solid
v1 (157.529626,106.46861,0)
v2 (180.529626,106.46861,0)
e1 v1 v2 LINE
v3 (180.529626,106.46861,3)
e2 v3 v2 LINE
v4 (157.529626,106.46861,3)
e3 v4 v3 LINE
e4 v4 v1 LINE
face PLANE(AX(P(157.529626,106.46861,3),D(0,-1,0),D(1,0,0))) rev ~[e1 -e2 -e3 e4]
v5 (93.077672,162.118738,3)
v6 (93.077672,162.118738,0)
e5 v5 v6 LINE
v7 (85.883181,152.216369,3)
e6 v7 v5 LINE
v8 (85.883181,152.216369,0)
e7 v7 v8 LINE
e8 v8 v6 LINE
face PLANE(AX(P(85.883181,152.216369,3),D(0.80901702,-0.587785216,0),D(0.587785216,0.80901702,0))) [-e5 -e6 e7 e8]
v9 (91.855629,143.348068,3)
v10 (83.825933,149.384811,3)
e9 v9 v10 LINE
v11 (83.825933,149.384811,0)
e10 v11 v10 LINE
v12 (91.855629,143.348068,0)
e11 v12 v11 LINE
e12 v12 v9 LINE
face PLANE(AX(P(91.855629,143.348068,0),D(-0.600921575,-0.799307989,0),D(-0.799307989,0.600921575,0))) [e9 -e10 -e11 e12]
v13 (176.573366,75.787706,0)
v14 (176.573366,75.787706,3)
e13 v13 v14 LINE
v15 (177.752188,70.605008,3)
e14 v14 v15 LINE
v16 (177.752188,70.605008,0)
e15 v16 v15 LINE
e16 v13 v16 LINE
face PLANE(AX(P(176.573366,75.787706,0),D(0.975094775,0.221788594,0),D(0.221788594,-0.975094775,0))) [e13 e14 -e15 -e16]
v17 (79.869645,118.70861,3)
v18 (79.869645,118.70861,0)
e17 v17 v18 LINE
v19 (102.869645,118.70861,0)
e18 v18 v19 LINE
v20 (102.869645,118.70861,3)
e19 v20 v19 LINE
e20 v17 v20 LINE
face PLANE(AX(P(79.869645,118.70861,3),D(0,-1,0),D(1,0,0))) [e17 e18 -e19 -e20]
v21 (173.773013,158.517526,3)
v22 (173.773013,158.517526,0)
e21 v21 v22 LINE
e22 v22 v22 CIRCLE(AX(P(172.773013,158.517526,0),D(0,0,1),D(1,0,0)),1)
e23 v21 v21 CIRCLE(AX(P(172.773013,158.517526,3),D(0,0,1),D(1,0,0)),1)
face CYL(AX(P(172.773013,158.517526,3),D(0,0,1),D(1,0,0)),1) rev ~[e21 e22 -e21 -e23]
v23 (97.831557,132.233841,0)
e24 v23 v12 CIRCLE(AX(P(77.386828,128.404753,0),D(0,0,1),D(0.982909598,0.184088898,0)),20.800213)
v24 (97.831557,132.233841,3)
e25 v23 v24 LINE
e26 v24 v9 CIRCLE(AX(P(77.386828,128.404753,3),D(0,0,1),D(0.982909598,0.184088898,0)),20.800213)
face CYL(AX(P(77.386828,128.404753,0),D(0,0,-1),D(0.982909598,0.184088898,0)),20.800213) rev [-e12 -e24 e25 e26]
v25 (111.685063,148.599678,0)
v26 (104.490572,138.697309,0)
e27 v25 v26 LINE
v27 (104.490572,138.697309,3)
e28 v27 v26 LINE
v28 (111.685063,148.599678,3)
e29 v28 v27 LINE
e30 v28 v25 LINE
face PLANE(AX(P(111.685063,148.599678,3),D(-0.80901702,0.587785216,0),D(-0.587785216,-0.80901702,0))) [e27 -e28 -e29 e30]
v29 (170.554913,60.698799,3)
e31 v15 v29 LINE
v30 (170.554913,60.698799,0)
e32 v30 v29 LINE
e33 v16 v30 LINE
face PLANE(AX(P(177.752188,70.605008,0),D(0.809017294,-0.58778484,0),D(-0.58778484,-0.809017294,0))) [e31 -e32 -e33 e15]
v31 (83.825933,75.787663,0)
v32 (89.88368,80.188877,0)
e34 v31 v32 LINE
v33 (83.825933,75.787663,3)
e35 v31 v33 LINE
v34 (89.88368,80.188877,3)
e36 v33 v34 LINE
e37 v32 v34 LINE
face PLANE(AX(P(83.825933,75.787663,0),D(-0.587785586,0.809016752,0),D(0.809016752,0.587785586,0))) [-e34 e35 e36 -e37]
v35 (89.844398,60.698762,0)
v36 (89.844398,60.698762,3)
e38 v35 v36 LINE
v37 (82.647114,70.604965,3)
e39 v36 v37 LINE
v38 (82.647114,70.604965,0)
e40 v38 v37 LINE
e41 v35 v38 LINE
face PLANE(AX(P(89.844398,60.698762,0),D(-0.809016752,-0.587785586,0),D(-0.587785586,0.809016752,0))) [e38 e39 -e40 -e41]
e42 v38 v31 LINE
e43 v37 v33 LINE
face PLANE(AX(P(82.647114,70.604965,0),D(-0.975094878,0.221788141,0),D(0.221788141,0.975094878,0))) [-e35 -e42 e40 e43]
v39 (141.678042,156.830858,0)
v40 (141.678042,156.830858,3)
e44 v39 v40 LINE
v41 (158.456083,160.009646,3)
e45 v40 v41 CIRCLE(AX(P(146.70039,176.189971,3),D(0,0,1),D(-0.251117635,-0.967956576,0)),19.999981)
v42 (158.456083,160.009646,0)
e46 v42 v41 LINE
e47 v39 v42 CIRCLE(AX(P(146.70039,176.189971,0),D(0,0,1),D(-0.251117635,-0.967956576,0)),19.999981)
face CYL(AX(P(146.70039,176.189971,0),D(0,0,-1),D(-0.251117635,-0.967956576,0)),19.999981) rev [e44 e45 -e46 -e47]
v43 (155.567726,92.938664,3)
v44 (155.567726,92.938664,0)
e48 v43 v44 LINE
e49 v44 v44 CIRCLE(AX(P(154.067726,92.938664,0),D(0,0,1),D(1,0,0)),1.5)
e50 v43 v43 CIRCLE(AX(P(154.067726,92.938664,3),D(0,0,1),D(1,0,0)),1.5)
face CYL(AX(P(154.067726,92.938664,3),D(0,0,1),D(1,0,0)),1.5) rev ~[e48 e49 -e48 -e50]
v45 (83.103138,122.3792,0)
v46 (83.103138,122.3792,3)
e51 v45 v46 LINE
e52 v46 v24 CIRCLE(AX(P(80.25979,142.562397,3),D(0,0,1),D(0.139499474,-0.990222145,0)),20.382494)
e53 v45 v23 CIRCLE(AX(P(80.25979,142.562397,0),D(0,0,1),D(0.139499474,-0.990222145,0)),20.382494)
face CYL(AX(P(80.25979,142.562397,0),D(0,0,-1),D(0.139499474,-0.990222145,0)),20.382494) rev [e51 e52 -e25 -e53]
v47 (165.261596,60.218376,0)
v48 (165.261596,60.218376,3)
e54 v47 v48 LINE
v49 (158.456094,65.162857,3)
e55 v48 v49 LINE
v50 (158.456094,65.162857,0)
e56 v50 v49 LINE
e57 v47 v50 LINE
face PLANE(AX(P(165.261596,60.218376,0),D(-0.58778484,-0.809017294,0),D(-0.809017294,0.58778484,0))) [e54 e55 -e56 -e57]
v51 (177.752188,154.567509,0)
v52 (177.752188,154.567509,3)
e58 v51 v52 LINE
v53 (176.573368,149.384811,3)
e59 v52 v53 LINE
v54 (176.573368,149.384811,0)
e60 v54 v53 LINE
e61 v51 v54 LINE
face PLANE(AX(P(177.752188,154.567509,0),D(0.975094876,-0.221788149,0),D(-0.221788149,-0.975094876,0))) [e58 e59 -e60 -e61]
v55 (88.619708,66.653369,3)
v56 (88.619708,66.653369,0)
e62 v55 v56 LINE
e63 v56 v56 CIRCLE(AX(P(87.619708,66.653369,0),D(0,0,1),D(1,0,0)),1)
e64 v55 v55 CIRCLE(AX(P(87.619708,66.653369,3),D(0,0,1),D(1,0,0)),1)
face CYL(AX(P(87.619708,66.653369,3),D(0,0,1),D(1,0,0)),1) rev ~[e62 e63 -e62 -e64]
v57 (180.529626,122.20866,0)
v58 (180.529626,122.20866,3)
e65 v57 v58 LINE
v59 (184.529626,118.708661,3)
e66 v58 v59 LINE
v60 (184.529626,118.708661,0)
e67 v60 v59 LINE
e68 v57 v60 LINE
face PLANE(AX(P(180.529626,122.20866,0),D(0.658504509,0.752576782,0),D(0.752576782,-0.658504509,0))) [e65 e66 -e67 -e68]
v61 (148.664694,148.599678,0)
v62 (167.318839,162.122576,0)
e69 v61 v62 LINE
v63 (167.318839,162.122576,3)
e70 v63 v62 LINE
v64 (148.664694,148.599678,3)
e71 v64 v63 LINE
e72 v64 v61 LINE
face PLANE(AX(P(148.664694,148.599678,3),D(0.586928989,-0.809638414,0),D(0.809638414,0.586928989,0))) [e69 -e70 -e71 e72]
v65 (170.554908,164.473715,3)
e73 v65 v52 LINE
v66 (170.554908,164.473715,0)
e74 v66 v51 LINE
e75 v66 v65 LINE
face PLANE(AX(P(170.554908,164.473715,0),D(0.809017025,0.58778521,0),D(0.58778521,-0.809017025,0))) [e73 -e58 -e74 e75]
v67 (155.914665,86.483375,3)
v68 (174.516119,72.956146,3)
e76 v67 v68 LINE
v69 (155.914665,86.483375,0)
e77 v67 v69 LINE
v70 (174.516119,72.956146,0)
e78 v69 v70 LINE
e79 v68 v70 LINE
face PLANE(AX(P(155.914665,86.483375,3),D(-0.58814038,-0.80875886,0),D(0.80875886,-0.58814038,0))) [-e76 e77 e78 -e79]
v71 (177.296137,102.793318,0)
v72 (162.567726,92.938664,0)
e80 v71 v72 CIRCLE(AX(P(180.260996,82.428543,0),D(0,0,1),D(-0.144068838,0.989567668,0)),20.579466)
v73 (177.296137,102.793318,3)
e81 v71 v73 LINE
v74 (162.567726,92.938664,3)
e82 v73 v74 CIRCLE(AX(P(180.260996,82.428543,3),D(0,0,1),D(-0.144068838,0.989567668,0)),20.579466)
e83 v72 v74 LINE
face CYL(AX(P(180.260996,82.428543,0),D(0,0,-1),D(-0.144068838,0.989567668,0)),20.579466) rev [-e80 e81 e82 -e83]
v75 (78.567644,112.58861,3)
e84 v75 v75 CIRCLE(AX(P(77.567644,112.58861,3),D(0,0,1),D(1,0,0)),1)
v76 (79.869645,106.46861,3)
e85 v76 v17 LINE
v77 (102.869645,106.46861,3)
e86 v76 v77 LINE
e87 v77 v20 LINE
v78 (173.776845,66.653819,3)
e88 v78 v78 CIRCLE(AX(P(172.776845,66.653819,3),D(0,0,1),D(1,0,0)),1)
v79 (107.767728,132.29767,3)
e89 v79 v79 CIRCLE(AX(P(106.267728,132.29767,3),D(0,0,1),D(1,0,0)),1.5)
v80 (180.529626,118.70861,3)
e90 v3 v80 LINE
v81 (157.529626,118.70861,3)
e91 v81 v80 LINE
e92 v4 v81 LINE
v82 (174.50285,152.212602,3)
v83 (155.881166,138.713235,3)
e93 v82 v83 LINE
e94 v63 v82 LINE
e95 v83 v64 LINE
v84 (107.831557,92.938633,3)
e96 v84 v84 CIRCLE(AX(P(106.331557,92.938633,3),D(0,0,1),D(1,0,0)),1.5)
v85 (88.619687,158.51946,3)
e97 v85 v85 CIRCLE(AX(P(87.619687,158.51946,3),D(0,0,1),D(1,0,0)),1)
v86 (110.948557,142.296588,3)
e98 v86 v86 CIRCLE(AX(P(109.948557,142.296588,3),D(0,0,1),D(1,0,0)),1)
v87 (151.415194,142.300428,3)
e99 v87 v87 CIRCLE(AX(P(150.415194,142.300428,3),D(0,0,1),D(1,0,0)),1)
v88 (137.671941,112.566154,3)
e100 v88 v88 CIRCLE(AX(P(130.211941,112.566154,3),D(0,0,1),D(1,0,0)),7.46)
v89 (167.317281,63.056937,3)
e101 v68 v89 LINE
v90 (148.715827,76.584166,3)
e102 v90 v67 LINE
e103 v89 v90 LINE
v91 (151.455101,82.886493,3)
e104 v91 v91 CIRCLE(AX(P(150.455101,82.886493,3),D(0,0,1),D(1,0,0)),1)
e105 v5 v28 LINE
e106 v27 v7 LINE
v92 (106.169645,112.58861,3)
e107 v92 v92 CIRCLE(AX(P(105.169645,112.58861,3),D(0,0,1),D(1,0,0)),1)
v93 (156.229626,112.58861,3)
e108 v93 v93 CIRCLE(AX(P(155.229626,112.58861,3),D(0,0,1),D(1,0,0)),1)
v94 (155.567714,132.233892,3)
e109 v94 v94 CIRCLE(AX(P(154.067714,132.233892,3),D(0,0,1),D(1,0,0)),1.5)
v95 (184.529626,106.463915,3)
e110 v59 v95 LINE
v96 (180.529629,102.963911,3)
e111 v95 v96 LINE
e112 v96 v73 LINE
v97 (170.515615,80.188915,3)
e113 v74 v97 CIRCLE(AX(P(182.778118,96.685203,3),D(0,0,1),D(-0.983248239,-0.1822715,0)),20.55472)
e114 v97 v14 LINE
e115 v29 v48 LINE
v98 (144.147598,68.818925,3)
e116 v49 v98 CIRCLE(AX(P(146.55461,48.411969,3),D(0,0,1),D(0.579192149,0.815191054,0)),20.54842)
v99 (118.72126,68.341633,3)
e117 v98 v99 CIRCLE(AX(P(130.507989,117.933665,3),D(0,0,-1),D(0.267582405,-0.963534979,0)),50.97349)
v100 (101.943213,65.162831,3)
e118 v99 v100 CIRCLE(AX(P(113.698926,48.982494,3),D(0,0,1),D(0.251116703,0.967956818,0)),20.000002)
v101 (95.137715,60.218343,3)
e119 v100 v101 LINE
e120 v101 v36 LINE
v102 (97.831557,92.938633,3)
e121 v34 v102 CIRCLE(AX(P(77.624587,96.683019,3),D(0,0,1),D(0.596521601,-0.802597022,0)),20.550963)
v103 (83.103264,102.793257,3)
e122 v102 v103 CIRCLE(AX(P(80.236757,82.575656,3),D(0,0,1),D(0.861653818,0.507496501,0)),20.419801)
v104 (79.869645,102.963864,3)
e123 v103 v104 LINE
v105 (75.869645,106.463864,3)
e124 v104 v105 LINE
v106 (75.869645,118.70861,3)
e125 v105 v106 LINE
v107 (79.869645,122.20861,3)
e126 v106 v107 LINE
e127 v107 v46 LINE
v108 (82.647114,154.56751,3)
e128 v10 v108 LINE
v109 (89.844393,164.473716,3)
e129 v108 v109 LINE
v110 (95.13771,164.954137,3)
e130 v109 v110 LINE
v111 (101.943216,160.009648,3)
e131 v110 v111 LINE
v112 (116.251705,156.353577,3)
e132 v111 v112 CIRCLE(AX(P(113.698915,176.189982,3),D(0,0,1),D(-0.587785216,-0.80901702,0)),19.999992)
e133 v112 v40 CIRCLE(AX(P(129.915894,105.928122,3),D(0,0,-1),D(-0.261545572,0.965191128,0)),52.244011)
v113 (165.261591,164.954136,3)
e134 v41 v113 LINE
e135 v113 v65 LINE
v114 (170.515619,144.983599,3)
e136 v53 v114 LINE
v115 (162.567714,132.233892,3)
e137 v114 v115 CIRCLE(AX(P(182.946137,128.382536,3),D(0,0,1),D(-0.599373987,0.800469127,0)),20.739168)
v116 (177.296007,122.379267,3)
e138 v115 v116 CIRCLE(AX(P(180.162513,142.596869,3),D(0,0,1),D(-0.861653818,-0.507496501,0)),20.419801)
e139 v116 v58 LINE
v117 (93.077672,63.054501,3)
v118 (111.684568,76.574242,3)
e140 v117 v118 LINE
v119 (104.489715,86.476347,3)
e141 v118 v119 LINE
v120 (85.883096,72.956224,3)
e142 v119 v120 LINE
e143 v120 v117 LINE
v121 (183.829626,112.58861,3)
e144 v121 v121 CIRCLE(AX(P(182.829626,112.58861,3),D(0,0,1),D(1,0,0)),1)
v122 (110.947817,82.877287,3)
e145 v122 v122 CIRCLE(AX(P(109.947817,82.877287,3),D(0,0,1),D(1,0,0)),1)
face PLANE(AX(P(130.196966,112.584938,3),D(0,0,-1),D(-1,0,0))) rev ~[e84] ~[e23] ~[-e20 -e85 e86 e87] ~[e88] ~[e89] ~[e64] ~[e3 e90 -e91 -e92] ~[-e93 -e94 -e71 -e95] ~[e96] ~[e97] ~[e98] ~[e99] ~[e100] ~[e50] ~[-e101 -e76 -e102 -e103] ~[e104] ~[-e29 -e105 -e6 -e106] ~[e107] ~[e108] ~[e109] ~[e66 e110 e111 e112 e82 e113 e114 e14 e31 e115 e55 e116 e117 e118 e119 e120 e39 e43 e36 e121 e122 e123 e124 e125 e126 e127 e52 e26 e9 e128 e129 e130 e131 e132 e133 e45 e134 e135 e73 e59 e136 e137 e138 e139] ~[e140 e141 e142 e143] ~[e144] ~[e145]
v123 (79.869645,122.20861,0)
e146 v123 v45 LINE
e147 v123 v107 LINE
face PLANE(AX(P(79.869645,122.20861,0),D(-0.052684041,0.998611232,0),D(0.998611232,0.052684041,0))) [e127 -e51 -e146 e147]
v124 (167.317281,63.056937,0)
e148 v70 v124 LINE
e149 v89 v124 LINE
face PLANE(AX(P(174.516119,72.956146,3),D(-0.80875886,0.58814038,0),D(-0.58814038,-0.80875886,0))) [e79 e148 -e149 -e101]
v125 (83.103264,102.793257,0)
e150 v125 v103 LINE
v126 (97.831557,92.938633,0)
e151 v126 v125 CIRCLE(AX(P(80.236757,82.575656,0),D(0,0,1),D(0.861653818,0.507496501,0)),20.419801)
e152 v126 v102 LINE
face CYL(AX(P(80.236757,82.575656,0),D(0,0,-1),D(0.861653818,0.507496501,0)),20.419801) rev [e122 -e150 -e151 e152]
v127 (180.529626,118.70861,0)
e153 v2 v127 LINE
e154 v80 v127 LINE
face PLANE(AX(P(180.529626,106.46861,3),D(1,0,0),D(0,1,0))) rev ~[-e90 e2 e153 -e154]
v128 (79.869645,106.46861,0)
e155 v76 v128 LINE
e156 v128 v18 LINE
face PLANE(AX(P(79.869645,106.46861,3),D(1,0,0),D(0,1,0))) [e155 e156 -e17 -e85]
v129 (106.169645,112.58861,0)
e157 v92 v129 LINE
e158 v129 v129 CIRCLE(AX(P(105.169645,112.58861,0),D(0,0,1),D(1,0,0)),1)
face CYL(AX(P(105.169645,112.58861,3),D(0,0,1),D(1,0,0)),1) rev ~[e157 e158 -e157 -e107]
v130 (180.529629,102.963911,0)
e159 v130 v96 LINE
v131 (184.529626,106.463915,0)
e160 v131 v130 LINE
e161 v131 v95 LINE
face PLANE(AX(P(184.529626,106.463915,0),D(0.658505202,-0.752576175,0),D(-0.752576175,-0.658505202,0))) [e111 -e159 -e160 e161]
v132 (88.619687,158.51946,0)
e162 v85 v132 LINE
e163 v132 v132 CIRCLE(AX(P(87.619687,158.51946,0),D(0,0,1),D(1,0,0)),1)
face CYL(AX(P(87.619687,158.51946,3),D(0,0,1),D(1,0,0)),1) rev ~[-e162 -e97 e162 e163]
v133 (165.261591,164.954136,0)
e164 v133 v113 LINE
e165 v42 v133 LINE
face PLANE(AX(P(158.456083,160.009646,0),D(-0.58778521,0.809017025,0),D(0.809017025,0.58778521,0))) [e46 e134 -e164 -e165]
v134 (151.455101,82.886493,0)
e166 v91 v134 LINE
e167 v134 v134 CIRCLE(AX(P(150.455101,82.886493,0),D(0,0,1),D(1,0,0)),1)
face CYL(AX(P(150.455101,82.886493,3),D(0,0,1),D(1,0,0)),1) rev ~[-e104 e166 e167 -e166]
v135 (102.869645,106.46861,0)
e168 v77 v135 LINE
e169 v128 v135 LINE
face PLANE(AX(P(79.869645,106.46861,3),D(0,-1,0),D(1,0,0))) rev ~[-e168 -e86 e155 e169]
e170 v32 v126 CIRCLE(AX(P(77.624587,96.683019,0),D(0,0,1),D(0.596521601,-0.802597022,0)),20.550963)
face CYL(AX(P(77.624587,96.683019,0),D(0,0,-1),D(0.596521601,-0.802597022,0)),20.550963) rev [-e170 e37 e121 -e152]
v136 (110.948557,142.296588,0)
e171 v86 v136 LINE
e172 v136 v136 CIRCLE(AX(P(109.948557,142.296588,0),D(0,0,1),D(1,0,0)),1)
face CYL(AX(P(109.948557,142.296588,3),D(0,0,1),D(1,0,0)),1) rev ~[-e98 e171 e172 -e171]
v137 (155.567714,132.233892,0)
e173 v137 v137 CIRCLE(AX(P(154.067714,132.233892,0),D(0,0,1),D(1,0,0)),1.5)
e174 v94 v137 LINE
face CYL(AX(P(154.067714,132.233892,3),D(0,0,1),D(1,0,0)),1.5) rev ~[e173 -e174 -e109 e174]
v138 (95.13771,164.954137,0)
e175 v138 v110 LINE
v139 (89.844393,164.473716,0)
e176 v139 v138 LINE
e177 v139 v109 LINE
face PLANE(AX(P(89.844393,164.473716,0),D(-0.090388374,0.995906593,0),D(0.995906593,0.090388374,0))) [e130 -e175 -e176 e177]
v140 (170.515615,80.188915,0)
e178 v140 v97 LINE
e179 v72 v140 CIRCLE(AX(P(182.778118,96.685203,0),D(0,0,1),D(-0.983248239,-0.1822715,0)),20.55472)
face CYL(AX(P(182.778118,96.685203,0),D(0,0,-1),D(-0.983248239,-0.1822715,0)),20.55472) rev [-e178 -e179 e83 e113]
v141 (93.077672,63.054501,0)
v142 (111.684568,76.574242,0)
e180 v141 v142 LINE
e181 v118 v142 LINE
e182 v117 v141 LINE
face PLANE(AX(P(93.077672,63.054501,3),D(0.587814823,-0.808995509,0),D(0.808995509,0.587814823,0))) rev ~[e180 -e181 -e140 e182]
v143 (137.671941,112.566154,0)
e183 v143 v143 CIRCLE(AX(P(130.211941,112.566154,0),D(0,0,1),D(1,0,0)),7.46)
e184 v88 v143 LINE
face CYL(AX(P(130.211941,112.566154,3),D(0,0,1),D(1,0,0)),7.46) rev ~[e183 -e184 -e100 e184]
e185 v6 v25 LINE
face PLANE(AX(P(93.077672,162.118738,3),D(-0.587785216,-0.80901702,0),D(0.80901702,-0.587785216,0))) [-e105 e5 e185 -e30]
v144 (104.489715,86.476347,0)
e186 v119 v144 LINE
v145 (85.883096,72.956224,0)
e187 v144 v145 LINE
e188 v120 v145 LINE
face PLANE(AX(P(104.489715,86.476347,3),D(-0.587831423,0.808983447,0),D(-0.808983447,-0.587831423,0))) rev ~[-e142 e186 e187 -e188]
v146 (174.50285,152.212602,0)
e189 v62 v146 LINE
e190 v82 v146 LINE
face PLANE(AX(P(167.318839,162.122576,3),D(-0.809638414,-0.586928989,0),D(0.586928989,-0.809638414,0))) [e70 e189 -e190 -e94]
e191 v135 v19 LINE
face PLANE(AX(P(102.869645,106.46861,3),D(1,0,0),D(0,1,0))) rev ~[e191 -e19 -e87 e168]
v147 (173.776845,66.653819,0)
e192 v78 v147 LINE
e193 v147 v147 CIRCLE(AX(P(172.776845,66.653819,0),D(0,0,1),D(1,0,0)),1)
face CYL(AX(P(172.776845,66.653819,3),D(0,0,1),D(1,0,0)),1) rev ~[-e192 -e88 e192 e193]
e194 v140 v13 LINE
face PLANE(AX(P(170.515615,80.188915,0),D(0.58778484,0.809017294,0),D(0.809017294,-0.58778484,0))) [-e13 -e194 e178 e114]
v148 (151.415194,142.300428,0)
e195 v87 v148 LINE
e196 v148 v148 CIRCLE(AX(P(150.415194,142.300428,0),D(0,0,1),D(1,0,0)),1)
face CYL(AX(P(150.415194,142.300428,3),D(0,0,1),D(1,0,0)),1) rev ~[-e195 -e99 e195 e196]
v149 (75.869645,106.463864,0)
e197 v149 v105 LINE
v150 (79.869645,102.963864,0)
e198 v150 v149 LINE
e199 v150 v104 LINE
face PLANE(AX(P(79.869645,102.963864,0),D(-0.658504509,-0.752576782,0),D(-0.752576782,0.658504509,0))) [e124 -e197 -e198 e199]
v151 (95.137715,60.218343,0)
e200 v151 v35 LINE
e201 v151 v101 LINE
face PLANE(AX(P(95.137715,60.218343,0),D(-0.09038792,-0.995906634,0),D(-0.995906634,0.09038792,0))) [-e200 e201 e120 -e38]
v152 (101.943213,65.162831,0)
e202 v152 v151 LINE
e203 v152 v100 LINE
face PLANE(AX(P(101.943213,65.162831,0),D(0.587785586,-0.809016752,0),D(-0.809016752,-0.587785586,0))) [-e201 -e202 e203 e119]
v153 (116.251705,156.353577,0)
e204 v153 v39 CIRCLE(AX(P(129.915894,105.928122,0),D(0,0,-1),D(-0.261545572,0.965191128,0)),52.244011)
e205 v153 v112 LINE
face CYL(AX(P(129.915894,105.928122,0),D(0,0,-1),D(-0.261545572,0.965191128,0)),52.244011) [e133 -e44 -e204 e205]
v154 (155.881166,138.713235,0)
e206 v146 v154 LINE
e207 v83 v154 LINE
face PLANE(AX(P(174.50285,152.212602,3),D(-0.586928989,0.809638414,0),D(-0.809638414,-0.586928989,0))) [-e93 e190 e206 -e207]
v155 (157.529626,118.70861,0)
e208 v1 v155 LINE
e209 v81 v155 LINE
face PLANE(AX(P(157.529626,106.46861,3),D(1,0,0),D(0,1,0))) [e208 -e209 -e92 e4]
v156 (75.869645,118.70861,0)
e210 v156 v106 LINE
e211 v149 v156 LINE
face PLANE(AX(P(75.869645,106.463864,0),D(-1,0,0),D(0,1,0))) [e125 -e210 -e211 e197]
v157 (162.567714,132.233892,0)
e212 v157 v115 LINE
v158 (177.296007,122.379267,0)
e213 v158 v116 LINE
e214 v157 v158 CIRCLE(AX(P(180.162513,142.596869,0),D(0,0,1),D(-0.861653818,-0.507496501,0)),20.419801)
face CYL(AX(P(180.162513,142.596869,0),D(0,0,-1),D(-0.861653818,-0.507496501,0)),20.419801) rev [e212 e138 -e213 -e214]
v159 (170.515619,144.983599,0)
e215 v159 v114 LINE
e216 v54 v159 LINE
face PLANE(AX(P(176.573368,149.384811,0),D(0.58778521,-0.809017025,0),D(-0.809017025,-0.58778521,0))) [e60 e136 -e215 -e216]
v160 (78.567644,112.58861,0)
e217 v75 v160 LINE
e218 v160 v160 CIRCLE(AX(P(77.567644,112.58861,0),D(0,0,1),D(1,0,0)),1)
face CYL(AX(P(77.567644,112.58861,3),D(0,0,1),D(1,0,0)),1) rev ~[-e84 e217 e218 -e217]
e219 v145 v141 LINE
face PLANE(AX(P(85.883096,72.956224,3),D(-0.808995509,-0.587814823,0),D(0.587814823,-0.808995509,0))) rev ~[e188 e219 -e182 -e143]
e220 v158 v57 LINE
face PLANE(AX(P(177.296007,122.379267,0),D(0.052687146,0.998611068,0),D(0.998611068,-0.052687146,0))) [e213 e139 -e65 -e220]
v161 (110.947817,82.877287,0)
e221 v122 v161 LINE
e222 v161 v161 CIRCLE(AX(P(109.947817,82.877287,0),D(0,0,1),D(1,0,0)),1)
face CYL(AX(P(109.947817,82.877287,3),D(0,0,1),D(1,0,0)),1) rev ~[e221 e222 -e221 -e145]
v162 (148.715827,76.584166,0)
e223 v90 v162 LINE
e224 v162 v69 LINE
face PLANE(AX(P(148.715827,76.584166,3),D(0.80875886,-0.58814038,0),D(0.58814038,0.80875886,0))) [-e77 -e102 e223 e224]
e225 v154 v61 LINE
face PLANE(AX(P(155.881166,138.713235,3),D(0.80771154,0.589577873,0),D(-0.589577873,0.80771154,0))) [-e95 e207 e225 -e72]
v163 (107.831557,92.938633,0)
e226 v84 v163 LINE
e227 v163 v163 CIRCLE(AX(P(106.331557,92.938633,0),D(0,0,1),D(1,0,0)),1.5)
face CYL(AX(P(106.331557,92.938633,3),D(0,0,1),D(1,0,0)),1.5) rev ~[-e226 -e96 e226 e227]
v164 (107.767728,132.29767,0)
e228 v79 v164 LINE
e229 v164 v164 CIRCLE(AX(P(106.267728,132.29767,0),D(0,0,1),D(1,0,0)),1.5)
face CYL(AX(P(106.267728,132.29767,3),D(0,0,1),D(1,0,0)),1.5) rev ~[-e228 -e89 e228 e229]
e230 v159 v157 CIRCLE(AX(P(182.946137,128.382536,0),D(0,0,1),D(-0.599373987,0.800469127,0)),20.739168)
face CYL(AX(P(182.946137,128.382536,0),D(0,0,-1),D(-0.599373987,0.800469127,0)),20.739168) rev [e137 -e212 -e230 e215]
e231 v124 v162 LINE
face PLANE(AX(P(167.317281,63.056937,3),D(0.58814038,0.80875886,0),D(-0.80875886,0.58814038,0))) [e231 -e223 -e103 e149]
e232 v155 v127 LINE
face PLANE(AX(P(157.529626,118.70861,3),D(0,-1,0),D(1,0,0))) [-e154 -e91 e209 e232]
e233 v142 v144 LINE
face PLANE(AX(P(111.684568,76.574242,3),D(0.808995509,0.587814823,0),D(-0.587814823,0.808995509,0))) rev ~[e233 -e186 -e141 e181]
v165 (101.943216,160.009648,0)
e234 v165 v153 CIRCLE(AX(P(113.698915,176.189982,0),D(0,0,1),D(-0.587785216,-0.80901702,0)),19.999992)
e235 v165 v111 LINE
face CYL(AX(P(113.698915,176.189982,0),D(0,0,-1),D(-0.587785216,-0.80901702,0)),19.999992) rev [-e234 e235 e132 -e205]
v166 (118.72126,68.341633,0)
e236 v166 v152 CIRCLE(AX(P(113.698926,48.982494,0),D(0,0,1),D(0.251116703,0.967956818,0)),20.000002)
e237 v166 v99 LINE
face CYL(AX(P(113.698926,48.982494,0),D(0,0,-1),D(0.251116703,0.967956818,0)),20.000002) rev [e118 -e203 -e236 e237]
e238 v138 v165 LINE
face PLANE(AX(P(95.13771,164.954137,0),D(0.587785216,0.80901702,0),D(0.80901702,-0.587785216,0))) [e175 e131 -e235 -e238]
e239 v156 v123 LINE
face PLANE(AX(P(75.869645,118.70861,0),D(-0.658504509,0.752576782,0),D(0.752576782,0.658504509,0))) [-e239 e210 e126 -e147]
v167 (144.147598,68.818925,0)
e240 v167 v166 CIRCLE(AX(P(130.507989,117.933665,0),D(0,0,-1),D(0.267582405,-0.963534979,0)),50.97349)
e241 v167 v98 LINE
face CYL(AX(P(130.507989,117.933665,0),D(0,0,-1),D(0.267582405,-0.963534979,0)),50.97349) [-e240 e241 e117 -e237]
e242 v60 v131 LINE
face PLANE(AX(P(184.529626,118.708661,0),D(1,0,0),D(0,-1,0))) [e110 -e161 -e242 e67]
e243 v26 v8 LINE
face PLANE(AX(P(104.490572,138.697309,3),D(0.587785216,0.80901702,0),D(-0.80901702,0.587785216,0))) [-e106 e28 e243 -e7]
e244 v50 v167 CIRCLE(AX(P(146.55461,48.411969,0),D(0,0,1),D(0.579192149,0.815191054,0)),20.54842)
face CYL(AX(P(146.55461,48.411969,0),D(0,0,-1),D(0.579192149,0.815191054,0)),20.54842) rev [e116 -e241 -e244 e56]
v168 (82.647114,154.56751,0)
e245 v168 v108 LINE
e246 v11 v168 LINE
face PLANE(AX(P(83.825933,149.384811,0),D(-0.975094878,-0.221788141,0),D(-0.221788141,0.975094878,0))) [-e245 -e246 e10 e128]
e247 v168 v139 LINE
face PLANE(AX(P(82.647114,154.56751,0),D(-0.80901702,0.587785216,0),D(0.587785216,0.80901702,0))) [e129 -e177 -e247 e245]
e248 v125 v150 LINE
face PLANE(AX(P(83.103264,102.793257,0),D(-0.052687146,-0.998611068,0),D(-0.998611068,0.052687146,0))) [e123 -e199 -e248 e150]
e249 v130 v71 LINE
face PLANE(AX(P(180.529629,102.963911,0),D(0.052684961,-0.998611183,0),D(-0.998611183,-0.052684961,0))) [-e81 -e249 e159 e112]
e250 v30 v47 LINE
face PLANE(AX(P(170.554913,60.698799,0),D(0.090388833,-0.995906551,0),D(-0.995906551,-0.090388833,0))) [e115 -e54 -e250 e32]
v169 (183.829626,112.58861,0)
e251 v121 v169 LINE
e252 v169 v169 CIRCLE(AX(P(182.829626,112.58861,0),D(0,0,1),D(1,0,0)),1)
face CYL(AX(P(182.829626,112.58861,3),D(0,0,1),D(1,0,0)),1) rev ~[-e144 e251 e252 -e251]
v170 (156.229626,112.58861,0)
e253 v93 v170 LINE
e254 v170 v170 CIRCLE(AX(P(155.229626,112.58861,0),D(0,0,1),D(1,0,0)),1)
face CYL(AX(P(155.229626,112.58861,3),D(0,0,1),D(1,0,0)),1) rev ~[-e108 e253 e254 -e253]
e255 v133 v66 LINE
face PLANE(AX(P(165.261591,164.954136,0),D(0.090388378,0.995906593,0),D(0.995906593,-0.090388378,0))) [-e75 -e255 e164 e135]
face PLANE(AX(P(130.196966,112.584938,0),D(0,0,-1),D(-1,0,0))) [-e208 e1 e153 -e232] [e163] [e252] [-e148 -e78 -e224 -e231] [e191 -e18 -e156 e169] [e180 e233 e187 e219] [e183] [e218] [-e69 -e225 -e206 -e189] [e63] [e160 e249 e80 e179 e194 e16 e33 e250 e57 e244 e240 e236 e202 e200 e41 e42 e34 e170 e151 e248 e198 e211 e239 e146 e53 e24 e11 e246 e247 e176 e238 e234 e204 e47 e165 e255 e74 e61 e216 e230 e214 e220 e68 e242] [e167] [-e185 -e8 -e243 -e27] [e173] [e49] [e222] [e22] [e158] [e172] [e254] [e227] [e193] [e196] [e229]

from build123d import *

# Parameters (mm, degrees)
BOSS_EXTRUDE1_DEPTH = 3
SKETCH2_W           = 23
SKETCH2_H           = 12.24
CUT_EXTRUDE1_DEPTH  = 3
SKETCH3_R           = 7.46
SKETCH3_R_2         = 1
CUT_EXTRUDE2_DEPTH  = 3
SKETCH4_R           = 1.5
CUT_EXTRUDE4_DEPTH  = 3


with BuildPart() as part:
    # Sketch1 → Boss-Extrude1 (new body)
    with BuildSketch(Plane.XY):
        with BuildLine():
            Line((82.647113629, 154.567509506), (89.844393112, 164.473715786))
            Line((89.844393112, 164.473715786), (95.137710251, 164.954136674))
            Line((95.137710251, 164.954136674), (101.943215616, 160.009648062))
            ThreePointArc((101.943215616, 160.009648062), (108.747642501, 156.812557566), (116.251704746, 156.353577499))
            ThreePointArc((116.251704746, 156.353577499), (128.935389479, 158.162930803), (141.678042243, 156.830857858))
            ThreePointArc((141.678042243, 156.830857858), (150.42338057, 156.539561763), (158.456083243, 160.009645858))
            Line((158.456083243, 160.009645858), (165.261591353, 164.954136376))
            Line((165.261591353, 164.954136376), (170.55490849, 164.473715466))
            Line((170.55490849, 164.473715466), (177.752187889, 154.567509125))
            Line((177.752187889, 154.567509125), (176.573368159, 149.384810766))
            Line((176.573368159, 149.384810766), (170.515619404, 144.983599161))
            ThreePointArc((170.515619404, 144.983599161), (165.346551478, 139.353755533), (162.56771378, 132.23389152))
            ThreePointArc((162.56771378, 132.23389152), (168.807132787, 125.625610798), (177.296006603, 122.379267473))
            Line((177.296006603, 122.379267473), (180.529625637, 122.208660353))
            Line((180.529625637, 122.208660353), (184.529626293, 118.70866071))
            Line((184.529626293, 118.70866071), (184.529626293, 106.463914621))
            Line((184.529626293, 106.463914621), (180.529628861, 102.963911295))
            Line((180.529628861, 102.963911295), (177.296136644, 102.79331796))
            ThreePointArc((177.296136644, 102.79331796), (168.816865326, 99.532528302), (162.567726238, 92.938663582))
            ThreePointArc((162.567726238, 92.938663582), (165.335032155, 85.811599743), (170.515615031, 80.188915148))
            Line((170.515615031, 80.188915148), (176.573365794, 75.787706307))
            Line((176.573365794, 75.787706307), (177.752187889, 70.605008486))
            Line((177.752187889, 70.605008486), (170.55491301, 60.698798861))
            Line((170.55491301, 60.698798861), (165.261596092, 60.218375535))
            Line((165.261596092, 60.218375535), (158.456093799, 65.162857082))
            ThreePointArc((158.456093799, 65.162857082), (151.641647942, 68.320751195), (144.1475976, 68.818924897))
            ThreePointArc((144.1475976, 68.818924897), (131.464672299, 66.969153974), (118.721260324, 68.341632719))
            ThreePointArc((118.721260324, 68.341632719), (109.975917376, 68.632921623), (101.943212729, 65.162831055))
            Line((101.943212729, 65.162831055), (95.13771499, 60.21834324))
            Line((95.13771499, 60.21834324), (89.844397632, 60.698761712))
            Line((89.844397632, 60.698761712), (82.647113629, 70.604964708))
            Line((82.647113629, 70.604964708), (83.825933315, 75.787663077))
            Line((83.825933315, 75.787663077), (89.883680023, 80.188877497))
            ThreePointArc((89.883680023, 80.188877497), (95.064494698, 85.811419139), (97.831557073, 92.938633252))
            ThreePointArc((97.831557073, 92.938633252), (91.592138066, 99.546913975), (83.10326425, 102.7932573))
            Line((83.10326425, 102.7932573), (79.869645216, 102.96386442))
            Line((79.869645216, 102.96386442), (75.86964456, 106.463864062))
            Line((75.86964456, 106.463864062), (75.86964456, 118.708610151))
            Line((75.86964456, 118.708610151), (79.869645216, 122.208609794))
            Line((79.869645216, 122.208609794), (83.10313759, 122.37920015))
            ThreePointArc((83.10313759, 122.37920015), (91.594370453, 125.622109158), (97.831557073, 132.233840961))
            ThreePointArc((97.831557073, 132.233840961), (95.706766675, 138.255067903), (91.855628915, 143.348067616))
            Line((91.855628915, 143.348067616), (83.825933315, 149.384811137))
            Line((83.825933315, 149.384811137), (82.647113629, 154.567509506))
        make_face()
    extrude(amount=BOSS_EXTRUDE1_DEPTH)

    # Sketch2 → Cut-Extrude1 (cut)
    with BuildSketch(Plane.XY.offset(3)):
        Polygon((85.883180637, 152.216369421), (93.077671686, 162.118737751), (111.685063156, 148.599677772), (104.490572106, 138.697309442), align=None)
        Polygon((111.684568391, 76.57424171), (104.489714954, 86.476346739), (85.883095664, 72.956224001), (93.077671686, 63.054500773), align=None)
        with Locations((91.369645216, 112.588609794)):
            Rectangle(SKETCH2_W, SKETCH2_H)
        Polygon((167.318839084, 162.122576423), (174.502849909, 152.212602231), (155.881166379, 138.713235486), (148.664694499, 148.599677772), align=None)
        with Locations((169.029625637, 112.588609794)):
            Rectangle(SKETCH2_W, SKETCH2_H)
        Polygon((174.516118852, 72.956145779), (167.3172806, 63.056937335), (148.715826824, 76.584166078), (155.914665077, 86.483374522), align=None)
    extrude(amount=-CUT_EXTRUDE1_DEPTH, mode=Mode.SUBTRACT)

    # Sketch3 → Cut-Extrude2 (cut)
    with BuildSketch(Plane.XY.offset(3)):
        with Locations((130.211941481, 112.566154055)):
            Circle(SKETCH3_R)
        with Locations((87.619687014, 158.519459583)):
            Circle(SKETCH3_R_2)
        with Locations((109.948556778, 142.296587609)):
            Circle(SKETCH3_R_2)
        with Locations((172.773012849, 158.517526001)):
            Circle(SKETCH3_R_2)
        with Locations((150.415193897, 142.300427521)):
            Circle(SKETCH3_R_2)
        with Locations((182.829625637, 112.588609794)):
            Circle(SKETCH3_R_2)
        with Locations((155.229625637, 112.588609794)):
            Circle(SKETCH3_R_2)
        with Locations((105.169645216, 112.588609794)):
            Circle(SKETCH3_R_2)
        with Locations((77.567644425, 112.588609794)):
            Circle(SKETCH3_R_2)
        with Locations((109.947817472, 82.877287408)):
            Circle(SKETCH3_R_2)
        with Locations((87.619707876, 66.653369203)):
            Circle(SKETCH3_R_2)
        with Locations((172.776845103, 66.653818683)):
            Circle(SKETCH3_R_2)
        with Locations((150.455100573, 82.886493174)):
            Circle(SKETCH3_R_2)
    extrude(amount=-CUT_EXTRUDE2_DEPTH, mode=Mode.SUBTRACT)

    # Sketch4 → Cut-Extrude4 (cut)
    with BuildSketch(Plane.XY.offset(3)):
        with Locations((106.267728038, 132.297669996)):
            Circle(SKETCH4_R)
        with Locations((154.06771378, 132.23389152)):
            Circle(SKETCH4_R)
        with Locations((106.331557073, 92.938633252)):
            Circle(SKETCH4_R)
        with Locations((154.067726238, 92.938663582)):
            Circle(SKETCH4_R)
    extrude(amount=-CUT_EXTRUDE4_DEPTH, mode=Mode.SUBTRACT)


solid = part.part
